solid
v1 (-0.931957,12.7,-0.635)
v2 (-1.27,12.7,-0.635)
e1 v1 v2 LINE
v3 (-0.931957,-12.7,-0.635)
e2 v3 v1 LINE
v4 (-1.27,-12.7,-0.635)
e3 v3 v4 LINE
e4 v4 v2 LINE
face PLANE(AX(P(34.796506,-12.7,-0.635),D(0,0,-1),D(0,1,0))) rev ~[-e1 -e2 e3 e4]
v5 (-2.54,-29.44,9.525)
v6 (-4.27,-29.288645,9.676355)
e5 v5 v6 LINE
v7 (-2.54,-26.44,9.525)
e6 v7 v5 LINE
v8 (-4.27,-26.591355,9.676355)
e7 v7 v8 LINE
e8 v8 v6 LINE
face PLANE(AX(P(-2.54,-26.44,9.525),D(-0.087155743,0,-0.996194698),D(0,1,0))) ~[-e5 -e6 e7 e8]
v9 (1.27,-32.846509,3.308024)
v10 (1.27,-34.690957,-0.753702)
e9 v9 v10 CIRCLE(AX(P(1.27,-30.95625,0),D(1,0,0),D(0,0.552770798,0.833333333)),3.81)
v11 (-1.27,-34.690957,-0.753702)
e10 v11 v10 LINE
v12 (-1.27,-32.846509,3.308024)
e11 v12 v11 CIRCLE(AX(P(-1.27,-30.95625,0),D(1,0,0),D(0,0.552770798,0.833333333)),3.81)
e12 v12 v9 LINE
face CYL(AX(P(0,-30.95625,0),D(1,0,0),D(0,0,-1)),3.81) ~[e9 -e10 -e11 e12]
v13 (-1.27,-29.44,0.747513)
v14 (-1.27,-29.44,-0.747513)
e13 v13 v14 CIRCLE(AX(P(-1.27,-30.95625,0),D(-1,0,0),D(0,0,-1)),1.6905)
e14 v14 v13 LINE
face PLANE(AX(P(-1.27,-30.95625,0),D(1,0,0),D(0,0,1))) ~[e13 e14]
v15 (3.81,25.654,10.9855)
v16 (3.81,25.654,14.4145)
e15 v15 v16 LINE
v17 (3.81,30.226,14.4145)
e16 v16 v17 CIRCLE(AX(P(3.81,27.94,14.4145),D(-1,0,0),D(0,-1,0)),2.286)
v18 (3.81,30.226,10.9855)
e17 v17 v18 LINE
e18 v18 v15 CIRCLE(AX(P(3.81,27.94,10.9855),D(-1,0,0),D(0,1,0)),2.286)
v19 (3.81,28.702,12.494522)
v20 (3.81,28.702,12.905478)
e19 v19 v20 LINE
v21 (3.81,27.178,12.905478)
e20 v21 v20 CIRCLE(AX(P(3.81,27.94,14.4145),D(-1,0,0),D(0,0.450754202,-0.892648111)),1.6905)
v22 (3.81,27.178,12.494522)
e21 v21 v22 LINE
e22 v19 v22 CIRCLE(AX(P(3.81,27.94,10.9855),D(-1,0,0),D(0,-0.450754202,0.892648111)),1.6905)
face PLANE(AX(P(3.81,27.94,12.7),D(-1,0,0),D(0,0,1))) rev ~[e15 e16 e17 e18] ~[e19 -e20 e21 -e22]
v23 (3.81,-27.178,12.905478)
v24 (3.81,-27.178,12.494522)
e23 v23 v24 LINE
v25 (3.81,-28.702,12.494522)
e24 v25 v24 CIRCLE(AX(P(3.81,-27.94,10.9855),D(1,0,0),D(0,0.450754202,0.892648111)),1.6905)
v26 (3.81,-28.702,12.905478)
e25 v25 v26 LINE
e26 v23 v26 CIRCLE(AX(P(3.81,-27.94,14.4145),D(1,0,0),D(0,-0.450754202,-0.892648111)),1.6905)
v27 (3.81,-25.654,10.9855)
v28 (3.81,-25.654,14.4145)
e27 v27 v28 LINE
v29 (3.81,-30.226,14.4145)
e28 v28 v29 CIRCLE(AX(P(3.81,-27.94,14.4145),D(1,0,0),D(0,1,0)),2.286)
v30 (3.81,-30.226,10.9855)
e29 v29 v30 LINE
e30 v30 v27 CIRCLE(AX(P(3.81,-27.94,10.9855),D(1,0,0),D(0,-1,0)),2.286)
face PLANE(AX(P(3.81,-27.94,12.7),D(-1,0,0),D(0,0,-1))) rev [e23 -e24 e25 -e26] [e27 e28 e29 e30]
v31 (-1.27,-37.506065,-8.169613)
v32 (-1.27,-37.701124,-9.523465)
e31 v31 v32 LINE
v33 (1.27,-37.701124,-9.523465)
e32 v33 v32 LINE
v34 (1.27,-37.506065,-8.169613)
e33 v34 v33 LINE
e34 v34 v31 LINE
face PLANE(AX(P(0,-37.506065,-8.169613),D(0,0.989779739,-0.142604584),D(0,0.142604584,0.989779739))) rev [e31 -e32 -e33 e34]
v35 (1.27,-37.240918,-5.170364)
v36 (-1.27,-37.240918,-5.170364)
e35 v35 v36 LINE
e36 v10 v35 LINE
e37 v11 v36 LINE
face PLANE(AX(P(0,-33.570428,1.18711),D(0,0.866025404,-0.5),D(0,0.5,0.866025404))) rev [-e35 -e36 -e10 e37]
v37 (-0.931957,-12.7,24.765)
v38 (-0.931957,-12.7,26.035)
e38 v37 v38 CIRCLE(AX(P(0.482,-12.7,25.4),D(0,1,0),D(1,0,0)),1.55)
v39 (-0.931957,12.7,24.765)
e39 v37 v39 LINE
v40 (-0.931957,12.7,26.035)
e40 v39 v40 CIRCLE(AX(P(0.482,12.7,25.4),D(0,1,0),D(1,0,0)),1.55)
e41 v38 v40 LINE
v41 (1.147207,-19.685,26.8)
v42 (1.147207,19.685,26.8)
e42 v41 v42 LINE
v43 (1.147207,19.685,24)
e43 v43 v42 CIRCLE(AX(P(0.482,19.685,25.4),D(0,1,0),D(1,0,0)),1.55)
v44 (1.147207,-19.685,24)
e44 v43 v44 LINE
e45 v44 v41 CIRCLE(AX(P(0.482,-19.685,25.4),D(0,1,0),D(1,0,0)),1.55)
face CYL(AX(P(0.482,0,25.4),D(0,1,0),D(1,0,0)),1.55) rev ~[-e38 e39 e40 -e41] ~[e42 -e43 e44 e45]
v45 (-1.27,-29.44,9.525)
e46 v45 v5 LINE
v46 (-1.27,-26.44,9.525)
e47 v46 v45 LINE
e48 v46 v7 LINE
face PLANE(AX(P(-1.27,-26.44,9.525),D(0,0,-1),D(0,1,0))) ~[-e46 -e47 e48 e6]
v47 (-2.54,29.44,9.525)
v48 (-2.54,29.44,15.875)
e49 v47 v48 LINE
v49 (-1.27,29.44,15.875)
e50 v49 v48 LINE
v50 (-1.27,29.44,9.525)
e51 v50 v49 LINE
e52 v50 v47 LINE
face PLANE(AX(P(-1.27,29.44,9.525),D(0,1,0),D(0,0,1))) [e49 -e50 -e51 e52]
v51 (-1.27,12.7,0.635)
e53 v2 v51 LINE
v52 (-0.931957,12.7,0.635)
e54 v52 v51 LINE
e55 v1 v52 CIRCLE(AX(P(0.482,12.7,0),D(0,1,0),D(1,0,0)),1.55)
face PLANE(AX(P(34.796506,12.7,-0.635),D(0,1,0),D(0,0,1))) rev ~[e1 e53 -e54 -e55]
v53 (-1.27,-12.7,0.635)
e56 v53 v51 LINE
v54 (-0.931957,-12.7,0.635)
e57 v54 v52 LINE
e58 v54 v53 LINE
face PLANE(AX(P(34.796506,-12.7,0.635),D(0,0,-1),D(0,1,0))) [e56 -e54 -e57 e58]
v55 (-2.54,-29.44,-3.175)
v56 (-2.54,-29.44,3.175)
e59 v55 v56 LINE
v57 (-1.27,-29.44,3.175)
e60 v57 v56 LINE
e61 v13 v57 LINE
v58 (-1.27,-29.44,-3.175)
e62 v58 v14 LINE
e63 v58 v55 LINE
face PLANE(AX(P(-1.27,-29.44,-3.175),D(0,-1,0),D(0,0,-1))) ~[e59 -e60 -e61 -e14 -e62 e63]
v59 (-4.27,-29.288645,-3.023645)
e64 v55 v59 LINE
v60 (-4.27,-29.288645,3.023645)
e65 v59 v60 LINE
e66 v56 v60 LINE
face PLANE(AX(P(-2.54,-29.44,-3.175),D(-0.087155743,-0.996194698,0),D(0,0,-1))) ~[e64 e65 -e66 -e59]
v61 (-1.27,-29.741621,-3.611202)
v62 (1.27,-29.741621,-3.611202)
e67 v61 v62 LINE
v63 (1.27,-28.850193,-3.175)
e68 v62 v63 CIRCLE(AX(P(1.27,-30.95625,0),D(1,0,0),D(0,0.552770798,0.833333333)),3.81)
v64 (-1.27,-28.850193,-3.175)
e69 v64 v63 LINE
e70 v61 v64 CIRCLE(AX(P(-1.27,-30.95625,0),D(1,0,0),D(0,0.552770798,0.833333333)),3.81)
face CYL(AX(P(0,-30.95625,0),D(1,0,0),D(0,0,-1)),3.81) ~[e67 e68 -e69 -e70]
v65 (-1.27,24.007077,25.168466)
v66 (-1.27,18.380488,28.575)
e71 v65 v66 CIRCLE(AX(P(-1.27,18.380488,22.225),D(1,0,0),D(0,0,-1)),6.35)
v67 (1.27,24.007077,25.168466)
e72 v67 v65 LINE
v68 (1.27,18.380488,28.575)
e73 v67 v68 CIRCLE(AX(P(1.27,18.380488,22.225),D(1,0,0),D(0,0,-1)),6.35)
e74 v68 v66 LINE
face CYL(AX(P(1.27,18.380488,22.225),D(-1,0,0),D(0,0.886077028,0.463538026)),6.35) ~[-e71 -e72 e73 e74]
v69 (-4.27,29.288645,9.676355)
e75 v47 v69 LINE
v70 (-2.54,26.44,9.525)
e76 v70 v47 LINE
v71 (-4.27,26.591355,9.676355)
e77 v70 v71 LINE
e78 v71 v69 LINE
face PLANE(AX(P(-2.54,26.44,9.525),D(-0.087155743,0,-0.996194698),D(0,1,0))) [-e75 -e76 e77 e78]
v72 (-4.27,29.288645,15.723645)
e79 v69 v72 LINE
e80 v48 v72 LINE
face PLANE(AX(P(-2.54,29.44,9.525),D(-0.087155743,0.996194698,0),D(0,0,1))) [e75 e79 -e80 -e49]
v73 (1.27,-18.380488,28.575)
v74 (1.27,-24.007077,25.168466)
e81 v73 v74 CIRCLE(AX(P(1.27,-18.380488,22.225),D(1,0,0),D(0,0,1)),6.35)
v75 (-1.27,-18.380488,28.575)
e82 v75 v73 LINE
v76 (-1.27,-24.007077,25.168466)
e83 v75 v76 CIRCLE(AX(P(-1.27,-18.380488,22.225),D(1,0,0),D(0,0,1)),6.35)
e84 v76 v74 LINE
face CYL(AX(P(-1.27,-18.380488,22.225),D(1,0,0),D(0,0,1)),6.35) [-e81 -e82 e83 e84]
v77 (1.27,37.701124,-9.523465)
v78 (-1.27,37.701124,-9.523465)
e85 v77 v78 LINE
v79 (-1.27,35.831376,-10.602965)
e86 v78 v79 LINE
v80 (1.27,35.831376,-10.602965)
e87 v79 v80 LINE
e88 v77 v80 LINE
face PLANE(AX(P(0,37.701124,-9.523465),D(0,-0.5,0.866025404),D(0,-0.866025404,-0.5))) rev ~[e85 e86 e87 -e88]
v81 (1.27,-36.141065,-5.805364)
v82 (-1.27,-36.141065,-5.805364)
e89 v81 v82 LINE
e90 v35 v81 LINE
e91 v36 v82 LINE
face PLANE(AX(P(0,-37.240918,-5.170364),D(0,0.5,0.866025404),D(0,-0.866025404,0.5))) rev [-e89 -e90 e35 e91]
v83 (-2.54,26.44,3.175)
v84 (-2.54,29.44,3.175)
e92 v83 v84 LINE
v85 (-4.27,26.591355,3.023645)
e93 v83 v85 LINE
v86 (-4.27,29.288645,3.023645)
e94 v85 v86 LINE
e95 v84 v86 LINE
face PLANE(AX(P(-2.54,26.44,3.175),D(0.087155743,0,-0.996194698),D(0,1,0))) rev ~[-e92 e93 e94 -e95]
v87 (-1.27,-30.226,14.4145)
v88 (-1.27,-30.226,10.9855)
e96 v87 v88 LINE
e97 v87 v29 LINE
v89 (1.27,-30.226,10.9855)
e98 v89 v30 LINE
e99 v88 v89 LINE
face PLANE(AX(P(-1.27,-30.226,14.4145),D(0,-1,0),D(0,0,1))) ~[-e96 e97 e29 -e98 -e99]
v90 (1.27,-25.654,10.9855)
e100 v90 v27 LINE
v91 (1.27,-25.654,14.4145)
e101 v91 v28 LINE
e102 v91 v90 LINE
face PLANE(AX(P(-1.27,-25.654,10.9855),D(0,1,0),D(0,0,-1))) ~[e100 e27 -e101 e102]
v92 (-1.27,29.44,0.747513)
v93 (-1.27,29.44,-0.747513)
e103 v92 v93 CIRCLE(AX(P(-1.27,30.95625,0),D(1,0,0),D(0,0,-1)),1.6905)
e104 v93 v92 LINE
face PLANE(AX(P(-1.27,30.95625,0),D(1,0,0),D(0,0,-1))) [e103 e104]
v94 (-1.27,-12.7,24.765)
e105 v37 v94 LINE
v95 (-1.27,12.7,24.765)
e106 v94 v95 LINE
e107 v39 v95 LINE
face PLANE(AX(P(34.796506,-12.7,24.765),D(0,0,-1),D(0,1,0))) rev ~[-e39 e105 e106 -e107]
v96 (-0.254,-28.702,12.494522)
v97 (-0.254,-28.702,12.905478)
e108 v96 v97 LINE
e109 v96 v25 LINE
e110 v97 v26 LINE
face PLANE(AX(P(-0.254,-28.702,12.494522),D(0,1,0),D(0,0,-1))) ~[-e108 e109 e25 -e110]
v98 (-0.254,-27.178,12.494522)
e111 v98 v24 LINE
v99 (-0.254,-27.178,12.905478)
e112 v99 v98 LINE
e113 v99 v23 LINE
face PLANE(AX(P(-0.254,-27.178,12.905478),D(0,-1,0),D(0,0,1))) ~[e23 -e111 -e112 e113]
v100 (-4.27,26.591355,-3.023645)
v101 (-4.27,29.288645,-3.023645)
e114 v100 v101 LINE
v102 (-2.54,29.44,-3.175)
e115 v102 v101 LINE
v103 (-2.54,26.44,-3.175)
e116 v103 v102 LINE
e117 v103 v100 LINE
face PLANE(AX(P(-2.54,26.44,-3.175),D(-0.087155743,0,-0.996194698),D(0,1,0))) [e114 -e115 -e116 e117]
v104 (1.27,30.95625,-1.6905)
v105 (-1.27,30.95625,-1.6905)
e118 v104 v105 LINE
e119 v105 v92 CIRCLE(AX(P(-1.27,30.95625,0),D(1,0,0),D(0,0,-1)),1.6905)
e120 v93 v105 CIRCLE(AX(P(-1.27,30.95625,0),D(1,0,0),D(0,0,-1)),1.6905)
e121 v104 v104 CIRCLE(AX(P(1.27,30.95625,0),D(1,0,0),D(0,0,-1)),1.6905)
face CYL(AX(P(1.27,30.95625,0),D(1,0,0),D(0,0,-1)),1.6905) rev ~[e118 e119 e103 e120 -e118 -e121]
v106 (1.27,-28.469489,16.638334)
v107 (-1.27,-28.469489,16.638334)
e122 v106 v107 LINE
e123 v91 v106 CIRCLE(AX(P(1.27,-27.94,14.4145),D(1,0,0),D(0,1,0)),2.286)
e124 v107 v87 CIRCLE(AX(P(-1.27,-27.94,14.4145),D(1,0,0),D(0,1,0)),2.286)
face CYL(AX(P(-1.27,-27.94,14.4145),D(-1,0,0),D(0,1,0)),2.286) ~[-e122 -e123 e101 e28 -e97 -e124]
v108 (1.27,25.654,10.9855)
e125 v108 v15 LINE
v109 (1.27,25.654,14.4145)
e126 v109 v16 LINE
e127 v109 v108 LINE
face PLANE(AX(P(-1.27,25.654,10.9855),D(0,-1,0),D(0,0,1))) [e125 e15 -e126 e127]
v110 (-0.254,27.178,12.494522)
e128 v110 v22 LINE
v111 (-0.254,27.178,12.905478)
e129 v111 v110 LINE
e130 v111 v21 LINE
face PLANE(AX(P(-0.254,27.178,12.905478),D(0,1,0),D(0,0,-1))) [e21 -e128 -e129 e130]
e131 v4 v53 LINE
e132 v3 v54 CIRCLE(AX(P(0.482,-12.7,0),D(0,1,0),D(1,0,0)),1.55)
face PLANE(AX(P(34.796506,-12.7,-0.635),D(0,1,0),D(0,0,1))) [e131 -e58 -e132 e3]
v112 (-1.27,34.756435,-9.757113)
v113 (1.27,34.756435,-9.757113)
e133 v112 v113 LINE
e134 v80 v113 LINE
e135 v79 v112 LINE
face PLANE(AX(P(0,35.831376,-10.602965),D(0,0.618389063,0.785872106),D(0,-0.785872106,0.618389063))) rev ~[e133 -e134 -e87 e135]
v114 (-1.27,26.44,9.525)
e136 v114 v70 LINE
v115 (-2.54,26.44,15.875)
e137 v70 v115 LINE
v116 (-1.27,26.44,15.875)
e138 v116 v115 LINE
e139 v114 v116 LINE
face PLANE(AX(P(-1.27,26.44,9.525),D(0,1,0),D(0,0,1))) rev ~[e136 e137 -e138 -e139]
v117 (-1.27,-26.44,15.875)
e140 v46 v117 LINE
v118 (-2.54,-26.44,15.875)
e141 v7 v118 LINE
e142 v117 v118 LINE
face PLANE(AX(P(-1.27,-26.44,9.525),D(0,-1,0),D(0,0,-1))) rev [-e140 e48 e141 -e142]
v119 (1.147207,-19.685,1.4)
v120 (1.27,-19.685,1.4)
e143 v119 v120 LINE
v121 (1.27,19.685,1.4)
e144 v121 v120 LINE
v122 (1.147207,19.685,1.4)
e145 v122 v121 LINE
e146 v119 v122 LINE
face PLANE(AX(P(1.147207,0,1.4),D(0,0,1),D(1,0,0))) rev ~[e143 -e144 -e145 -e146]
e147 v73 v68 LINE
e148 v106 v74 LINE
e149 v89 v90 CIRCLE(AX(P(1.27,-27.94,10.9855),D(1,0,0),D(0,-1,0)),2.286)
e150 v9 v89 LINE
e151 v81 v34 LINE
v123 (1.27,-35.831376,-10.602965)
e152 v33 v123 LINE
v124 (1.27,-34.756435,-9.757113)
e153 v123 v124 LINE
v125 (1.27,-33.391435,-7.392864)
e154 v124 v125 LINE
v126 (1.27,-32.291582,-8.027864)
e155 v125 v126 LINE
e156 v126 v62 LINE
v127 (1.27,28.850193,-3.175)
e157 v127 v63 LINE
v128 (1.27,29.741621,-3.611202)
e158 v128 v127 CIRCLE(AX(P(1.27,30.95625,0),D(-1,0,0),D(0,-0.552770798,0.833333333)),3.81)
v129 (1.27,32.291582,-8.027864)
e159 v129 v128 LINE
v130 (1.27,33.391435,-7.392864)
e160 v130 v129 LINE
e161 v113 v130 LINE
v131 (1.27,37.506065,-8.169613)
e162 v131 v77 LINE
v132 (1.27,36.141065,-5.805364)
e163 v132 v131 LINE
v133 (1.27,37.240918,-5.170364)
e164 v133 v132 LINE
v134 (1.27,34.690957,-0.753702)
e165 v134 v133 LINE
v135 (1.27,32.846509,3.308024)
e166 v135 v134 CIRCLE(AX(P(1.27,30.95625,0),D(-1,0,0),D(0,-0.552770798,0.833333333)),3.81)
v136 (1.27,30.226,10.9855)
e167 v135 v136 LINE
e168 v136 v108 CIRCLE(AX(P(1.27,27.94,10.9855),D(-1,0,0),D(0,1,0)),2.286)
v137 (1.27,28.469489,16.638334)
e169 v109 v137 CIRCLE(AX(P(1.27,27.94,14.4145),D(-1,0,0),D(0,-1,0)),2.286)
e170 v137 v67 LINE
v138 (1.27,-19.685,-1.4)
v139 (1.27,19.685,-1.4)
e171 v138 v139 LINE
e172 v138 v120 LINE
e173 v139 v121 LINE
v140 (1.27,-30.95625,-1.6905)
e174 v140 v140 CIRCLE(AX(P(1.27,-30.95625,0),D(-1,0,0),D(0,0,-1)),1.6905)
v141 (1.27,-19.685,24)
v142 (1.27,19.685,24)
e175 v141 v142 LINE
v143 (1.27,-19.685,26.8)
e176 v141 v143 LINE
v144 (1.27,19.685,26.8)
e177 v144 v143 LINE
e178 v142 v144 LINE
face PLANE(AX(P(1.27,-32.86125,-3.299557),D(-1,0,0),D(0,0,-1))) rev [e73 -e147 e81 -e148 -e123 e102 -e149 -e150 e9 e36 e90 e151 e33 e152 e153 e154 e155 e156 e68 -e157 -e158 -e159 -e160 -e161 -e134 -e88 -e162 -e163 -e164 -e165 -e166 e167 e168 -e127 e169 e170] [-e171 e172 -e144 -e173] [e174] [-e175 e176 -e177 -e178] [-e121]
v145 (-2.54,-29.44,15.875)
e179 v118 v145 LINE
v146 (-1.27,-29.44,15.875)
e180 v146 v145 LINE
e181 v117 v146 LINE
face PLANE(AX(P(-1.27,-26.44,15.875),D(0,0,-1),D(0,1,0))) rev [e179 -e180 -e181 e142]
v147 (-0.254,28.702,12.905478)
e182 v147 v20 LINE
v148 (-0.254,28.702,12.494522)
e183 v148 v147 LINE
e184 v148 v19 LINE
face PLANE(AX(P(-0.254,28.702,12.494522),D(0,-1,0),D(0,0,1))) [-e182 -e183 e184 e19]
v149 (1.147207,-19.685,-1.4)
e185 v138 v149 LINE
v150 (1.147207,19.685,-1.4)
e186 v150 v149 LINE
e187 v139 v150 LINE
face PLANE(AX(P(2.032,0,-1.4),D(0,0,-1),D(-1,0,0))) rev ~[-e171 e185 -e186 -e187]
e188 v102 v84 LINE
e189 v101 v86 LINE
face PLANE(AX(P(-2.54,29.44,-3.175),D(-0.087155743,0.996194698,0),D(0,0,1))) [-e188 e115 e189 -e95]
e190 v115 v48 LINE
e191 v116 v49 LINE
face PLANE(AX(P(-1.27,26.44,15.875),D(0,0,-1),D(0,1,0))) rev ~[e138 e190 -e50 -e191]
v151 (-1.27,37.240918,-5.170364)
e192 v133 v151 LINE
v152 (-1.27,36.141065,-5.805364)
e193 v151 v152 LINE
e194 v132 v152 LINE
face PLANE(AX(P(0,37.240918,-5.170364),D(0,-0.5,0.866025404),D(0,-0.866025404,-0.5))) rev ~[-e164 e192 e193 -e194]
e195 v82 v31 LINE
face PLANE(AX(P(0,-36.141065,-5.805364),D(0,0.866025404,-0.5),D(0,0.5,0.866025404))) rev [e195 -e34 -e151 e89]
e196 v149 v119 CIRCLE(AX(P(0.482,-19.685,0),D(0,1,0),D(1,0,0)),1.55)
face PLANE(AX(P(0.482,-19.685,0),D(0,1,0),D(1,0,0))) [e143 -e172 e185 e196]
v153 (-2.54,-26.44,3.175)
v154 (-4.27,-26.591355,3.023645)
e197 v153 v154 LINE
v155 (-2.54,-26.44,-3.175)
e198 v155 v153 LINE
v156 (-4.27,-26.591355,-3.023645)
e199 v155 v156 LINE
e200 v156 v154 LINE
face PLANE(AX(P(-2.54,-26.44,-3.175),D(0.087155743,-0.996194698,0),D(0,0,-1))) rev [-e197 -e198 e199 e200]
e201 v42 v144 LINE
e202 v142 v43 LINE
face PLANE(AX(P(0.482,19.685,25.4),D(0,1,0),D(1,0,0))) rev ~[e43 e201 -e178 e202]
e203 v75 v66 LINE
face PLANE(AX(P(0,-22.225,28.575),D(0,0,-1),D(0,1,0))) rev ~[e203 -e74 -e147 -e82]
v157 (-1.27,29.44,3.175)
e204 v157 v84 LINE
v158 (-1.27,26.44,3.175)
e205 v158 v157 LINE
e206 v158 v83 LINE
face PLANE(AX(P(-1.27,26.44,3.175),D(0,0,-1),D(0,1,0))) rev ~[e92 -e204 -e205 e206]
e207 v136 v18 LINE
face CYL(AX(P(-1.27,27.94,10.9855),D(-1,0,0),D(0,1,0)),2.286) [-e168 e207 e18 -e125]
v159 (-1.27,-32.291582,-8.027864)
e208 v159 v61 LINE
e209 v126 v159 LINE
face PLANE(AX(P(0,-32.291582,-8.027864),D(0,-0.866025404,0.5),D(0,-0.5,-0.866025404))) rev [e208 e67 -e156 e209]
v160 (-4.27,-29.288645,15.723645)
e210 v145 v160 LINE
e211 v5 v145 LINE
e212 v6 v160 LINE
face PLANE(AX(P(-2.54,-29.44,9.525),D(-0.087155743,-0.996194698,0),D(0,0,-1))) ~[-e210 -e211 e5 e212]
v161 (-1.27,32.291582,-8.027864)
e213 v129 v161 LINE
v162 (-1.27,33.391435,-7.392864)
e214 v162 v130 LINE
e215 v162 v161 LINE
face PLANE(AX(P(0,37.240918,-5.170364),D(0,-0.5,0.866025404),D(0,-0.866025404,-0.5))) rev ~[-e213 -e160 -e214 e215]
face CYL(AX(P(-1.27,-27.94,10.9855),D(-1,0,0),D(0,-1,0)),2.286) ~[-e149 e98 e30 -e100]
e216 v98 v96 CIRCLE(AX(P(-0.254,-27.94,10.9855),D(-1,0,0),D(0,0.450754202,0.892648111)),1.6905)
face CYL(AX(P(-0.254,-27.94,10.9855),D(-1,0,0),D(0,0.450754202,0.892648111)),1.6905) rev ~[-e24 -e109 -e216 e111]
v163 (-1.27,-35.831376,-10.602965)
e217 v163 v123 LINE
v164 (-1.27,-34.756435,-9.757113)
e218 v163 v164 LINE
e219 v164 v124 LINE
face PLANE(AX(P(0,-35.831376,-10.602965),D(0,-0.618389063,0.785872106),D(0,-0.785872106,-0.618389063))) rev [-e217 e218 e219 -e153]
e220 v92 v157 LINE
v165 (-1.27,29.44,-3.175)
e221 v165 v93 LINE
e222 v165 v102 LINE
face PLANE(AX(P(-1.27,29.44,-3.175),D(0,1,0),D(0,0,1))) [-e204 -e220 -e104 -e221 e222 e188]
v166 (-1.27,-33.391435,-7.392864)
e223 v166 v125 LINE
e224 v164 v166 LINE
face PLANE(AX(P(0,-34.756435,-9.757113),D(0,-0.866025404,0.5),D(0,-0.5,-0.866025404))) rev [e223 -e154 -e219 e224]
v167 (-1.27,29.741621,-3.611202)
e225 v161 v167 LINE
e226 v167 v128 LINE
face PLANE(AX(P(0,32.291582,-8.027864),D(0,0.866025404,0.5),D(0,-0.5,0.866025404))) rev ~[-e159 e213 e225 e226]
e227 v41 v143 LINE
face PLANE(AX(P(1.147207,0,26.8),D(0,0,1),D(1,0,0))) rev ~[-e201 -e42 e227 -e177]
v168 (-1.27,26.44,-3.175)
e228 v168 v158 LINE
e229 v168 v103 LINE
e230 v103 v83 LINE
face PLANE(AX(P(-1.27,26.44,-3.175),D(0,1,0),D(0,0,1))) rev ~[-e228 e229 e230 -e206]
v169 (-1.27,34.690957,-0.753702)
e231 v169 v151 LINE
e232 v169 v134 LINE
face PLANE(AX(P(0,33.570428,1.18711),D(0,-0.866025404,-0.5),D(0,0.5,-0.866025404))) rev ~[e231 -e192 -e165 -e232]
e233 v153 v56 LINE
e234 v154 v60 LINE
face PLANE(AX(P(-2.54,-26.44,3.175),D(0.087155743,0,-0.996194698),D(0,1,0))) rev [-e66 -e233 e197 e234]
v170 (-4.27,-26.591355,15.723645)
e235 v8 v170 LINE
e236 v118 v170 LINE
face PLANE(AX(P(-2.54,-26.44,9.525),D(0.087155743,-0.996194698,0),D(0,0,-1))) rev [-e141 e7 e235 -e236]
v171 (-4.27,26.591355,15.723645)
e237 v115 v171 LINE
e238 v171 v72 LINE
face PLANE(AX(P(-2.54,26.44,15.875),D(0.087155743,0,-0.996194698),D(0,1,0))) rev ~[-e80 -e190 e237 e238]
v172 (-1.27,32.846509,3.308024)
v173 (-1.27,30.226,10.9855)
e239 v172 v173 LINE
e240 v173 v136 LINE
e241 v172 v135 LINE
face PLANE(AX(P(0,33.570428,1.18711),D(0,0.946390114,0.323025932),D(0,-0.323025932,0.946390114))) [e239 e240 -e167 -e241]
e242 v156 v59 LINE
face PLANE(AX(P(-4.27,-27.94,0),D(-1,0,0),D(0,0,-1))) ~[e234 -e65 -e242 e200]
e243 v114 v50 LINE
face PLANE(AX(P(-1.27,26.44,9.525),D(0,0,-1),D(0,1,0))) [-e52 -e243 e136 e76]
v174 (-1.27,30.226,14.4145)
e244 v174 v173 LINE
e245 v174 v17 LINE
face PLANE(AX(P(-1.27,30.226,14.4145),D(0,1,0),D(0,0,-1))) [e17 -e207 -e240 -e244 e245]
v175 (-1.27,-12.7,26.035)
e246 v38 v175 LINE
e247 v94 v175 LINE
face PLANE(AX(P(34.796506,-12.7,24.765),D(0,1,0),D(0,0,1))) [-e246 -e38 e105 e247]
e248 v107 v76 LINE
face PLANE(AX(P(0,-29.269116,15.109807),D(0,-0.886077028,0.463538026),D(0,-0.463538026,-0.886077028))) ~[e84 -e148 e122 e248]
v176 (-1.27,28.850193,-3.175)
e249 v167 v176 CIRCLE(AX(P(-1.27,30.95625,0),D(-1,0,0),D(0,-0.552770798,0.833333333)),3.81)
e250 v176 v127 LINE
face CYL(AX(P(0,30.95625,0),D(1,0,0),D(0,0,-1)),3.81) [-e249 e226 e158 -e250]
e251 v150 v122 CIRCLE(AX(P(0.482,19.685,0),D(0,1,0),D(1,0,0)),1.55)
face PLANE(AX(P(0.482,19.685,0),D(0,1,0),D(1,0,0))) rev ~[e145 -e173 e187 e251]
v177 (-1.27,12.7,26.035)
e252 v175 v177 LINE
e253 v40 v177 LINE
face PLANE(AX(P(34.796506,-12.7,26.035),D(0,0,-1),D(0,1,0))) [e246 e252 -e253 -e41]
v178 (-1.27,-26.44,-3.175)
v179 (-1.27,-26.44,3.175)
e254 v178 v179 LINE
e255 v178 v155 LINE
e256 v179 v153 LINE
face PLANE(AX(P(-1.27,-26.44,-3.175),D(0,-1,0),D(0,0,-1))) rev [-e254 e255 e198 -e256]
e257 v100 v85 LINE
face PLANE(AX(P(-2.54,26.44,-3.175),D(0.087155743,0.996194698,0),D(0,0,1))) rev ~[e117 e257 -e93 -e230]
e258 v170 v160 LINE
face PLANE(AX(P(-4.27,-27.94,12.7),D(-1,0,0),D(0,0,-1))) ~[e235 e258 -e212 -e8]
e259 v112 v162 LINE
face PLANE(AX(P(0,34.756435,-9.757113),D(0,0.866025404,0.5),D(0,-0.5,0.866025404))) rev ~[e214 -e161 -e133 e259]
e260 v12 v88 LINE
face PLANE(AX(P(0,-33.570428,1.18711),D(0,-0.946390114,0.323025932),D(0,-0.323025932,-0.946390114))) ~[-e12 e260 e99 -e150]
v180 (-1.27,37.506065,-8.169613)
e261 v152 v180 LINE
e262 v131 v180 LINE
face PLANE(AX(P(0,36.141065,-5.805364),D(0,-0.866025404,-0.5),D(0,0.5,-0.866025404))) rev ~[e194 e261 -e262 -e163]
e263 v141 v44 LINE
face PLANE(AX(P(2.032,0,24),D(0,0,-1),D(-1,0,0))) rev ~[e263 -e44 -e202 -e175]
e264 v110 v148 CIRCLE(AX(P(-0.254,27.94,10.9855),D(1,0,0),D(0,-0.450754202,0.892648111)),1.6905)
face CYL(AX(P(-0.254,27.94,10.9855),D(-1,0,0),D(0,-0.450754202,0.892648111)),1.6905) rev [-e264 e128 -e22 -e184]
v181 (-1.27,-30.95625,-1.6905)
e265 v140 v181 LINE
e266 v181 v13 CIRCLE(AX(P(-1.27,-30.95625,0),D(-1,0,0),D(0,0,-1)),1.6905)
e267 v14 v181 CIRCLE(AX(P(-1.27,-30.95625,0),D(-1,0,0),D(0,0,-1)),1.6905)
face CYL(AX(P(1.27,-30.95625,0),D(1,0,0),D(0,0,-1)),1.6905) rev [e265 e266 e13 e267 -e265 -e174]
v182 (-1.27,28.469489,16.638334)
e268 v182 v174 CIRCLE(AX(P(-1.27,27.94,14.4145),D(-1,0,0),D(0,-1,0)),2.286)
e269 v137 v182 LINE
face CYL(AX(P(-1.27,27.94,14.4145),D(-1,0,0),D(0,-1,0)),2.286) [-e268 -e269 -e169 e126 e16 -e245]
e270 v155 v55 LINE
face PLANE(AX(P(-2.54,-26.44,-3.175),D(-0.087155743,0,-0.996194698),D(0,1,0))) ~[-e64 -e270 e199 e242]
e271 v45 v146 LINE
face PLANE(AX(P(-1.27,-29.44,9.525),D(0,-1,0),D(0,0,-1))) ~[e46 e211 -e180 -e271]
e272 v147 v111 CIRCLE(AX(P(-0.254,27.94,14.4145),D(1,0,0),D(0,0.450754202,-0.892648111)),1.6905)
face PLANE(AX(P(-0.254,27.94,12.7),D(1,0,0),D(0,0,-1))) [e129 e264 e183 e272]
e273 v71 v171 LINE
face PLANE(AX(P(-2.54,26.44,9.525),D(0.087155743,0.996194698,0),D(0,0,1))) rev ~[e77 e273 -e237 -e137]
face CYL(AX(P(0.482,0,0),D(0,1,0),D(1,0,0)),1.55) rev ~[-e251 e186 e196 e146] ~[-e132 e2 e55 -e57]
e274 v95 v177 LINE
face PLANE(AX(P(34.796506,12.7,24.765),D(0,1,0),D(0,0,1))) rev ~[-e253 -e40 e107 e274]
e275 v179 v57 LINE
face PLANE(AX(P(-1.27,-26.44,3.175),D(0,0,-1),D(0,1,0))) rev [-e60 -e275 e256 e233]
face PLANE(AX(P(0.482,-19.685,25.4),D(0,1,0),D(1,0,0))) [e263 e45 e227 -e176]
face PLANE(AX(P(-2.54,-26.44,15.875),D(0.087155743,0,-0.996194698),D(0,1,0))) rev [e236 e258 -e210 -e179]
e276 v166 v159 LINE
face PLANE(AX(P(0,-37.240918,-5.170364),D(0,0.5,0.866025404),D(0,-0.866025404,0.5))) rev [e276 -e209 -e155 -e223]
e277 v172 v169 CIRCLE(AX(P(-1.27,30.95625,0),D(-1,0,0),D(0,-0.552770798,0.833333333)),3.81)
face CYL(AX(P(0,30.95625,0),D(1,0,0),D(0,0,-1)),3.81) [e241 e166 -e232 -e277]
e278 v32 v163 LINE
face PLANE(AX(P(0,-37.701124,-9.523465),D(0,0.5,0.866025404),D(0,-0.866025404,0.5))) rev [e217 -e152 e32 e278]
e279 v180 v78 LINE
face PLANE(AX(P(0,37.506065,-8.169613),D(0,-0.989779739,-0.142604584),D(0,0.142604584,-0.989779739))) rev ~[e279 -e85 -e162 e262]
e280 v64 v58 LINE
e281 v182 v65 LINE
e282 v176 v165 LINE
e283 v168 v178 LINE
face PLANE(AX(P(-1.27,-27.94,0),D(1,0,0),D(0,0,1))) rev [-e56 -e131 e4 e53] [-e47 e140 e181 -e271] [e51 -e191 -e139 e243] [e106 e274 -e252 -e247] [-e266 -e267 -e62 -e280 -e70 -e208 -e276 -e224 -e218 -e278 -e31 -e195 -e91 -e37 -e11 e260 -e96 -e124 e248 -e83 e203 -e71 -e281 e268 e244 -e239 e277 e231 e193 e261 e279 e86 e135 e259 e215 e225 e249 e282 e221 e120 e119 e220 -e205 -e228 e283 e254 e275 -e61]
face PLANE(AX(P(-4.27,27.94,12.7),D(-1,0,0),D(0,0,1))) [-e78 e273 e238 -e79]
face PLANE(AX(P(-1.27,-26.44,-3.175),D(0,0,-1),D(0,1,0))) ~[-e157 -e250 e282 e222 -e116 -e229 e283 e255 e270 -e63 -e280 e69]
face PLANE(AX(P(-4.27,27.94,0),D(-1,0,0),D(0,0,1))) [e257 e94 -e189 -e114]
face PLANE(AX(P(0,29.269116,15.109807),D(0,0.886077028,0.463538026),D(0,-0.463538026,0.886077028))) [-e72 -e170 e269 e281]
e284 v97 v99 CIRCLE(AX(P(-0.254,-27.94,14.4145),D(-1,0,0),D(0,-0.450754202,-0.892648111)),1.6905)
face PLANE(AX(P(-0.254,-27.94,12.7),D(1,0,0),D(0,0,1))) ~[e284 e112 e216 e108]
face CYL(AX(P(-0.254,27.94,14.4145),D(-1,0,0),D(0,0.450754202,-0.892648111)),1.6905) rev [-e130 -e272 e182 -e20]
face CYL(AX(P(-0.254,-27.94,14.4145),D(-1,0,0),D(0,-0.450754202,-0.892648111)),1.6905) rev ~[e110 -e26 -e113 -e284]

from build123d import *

# Parameters (mm, degrees)
SKETCH3_R                   = 3.81
DOWELSUPPORT_DEPTH          = 1.27
SKETCH5_W                   = 6.35
SKETCH5_H                   = 44.45
SLIDERDOWELSUPPORT_DEPTH    = 1.27
SKETCH17_R                  = 1.549999948
CUT_EXTRUDE1_DEPTH          = 19.685
CUT_EXTRUDE2_DEPTH          = 36.066505943
CUT_EXTRUDE2_DEPTH_BACK     = 36.066505943
SKETCH18_W                  = 1.27
SKETCH18_H                  = 25.4
LPATTERN1_COUNT             = 2
LPATTERN1_PITCH             = 25.4
LATERALSUPPORT_DEPTH        = 1.27
SKETCH8_W                   = 6.35
SKETCH8_H                   = 3
TABSUPPORT_DEPTH            = 1.27
STRINGDOWELSUPPORT_START    = -1.27
STRINGDOWELSUPPORT_DEPTH    = 5.08
INTERSUPPORT_DEPTH          = 1.27
SKETCH10_W                  = 6.35
SKETCH10_H                  = 3
TABBASE_DEPTH               = 1.27
SKETCH12_W                  = 6.35
SKETCH12_H                  = 3
TABDRAFT_DEPTH              = 1.73
TABDRAFT_DRAFT              = 5
TABDRAFT_PROFILE_2_DEPTH    = 1.73
TABDRAFT_PROFILE_2_DRAFT    = 5
STRINGDOWELHOLES_DEPTH      = 48.629791179
STRINGDOWELHOLES_DEPTH_BACK = 1.524
SKETCH14_R                  = 1.690500048
PULLEYDOWELHOLE_DEPTH       = 2.54
FILLET1_R                   = 6.35


with BuildPart() as part:
    # Sketch3 → DowelSupport (new, symmetric)
    with BuildSketch(Plane(origin=(0, 0, 0), x_dir=(0, 0, -1), z_dir=(1, 0, 0))):
        with Locations((0, 30.95625)):
            Circle(SKETCH3_R)
    extrude(amount=DOWELSUPPORT_DEPTH, both=True)

    # Sketch8 → TabSupport (add, symmetric)
    with BuildSketch(Plane(origin=(0, 0, 0), x_dir=(0, 0, -1), z_dir=(1, 0, 0))):
        with Locations((0, 27.94)):
            Rectangle(SKETCH8_W, SKETCH8_H)
        with Locations((-12.7, 27.94)):
            Rectangle(SKETCH8_W, SKETCH8_H)
    extrude(amount=TABSUPPORT_DEPTH, both=True)


with BuildPart() as body_2:
    # Sketch5 → SliderDowelSupport (new, symmetric)
    with BuildSketch(Plane(origin=(0, 0, 0), x_dir=(0, 0, -1), z_dir=(1, 0, 0))):
        Rectangle(SKETCH5_W, SKETCH5_H)
    extrude(amount=SLIDERDOWELSUPPORT_DEPTH, both=True)

    # Sketch17 → Cut-Extrude1 (cut, symmetric)
    with BuildSketch(Plane(origin=(0, 0, 0), x_dir=(1, 0, 0), z_dir=(0, 1, 0))):
        with Locations((0.482000052, 0)):
            Circle(SKETCH17_R)
        with BuildLine():
            Line((2.032, 0), (2.032, 1.399999994))
            Line((2.032, 1.399999994), (1.147206678, 1.399999994))
            ThreePointArc((1.147206678, 1.399999994), (1.792261491, 0.828078983), (2.032, 0))
        make_face()
        with BuildLine():
            Line((2.032, -1.399999994), (2.032, 0))
            ThreePointArc((2.032, 0), (1.792261491, -0.828078983), (1.147206678, -1.399999994))
            Line((1.147206678, -1.399999994), (2.032, -1.399999994))
        make_face()
    extrude(amount=CUT_EXTRUDE1_DEPTH, both=True, mode=Mode.SUBTRACT)

    # Sketch18 → Cut-Extrude2 (cut, two sides: drawn at the far end of the back side and taken through both)
    with BuildSketch(Plane.ZY.offset(1.27).offset(-CUT_EXTRUDE2_DEPTH_BACK)):
        Rectangle(SKETCH18_W, SKETCH18_H)
    extrude(amount=CUT_EXTRUDE2_DEPTH + CUT_EXTRUDE2_DEPTH_BACK, mode=Mode.SUBTRACT)


with BuildPart() as lpattern1_1:
    # LPattern1: pattern copy
    add(body_2.part.moved(Location(Vector(0, 0, 1) * (1 * LPATTERN1_PITCH))))


with BuildPart() as body_4:
    # Sketch6 → LateralSupport (new, symmetric)
    with BuildSketch(Plane(origin=(0, 0, 0), x_dir=(0, 0, -1), z_dir=(1, 0, 0))):
        Polygon((7.392863577, 33.391434671), (5.805363577, 36.141065329), (8.169612929, 37.506065329), (9.523465192, 37.701124423), (10.602965192, 35.831375577), (9.757112929, 34.756434671), align=None)
    extrude(amount=LATERALSUPPORT_DEPTH, both=True)


with BuildPart() as tabsupport_piece_1:
    # of the separate pieces the step leaves, piece 1, a body of its own (tabsupport_pieces)
    add(part.part.solids().sort_by_distance((1.27, 28.850193258, 3.175))[0])


with BuildPart() as tabsupport_piece_2:
    # of the separate pieces the step leaves, piece 2, a body of its own (tabsupport_pieces)
    add(part.part.solids().sort_by_distance((-1.27, 26.44, 9.525))[0])

    # Sketch15 → StringDowelSupport (add)
    with BuildSketch(Plane(origin=(0, 0, 0), x_dir=(0, 0, -1), z_dir=(1, 0, 0)).offset(STRINGDOWELSUPPORT_START)):
        with BuildLine():
            Line((-14.4145, 30.226), (-10.9855, 30.226))
            ThreePointArc((-10.9855, 30.226), (-8.6995, 27.94), (-10.9855, 25.654))
            Line((-10.9855, 25.654), (-14.4145, 25.654))
            ThreePointArc((-14.4145, 25.654), (-16.7005, 27.94), (-14.4145, 30.226))
        make_face()
    extrude(amount=STRINGDOWELSUPPORT_DEPTH)


with BuildPart() as body_2_1:
    add(body_2.part)

    add(lpattern1_1.part)  # InterSupport merges LPattern1_1

    add(body_4.part)  # InterSupport merges body 4

    add(tabsupport_piece_1.part)  # InterSupport merges TabSupport piece 1

    add(tabsupport_piece_2.part)  # InterSupport merges TabSupport piece 2
    # Sketch7 → InterSupport (add, symmetric)
    with BuildSketch(Plane(origin=(0, 0, 0), x_dir=(0, 0, -1), z_dir=(1, 0, 0))):
        Polygon((5.170363577, 37.240917591), (8.027863577, 32.291582409), (1.42875, 28.481582409), (-1.42875, 33.430917591), align=None)
        Polygon((-3.175, 15.875), (-3.175, 22.225), (3.175, 22.225), (3.175, 26.44), (0.923046602, 28.251940251), (-0.923046602, 33.660559749), (-10.9855, 30.226), (-14.4145, 30.226), (-15.109807039, 29.269115541), (-28.575, 22.225), (-22.225, 22.225), (-22.225, 0), (-3.175, 0), align=None)
    extrude(amount=INTERSUPPORT_DEPTH, both=True)

    # Sketch10 → TabBase (add)
    with BuildSketch(Plane.ZY.offset(1.27)):
        with Locations((0, 27.94)):
            Rectangle(SKETCH10_W, SKETCH10_H)
        with Locations((12.7, 27.94)):
            Rectangle(SKETCH10_W, SKETCH10_H)
    extrude(amount=TABBASE_DEPTH)


with BuildPart() as tabdraft_tool:
    # Sketch12 → TabDraft (with draft: the straight prism first)
    with BuildSketch(Plane.ZY.offset(2.54)):
        with Locations((0, 27.94)):
            Rectangle(SKETCH12_W, SKETCH12_H)
    extrude(amount=TABDRAFT_DEPTH)
    # TabDraft: the draft: its side faces are tilted about the plane it starts from
    tabdraft_sides = [tabdraft_tool.faces().sort_by_distance(p)[0] for p in [
        (-3.405, 27.94, 3.175),
        (-3.405, 29.44, 0),
        (-3.405, 27.94, -3.175),
        (-3.405, 26.44, 0),
    ]]
    draft(tabdraft_sides, Plane.ZY.offset(2.54), TABDRAFT_DRAFT)


with BuildPart() as body_2_2:
    add(body_2_1.part)

    # TabDraft: add tabdraft_tool
    add(tabdraft_tool.part)


with BuildPart() as tabdraft_profile_2_tool:
    # Sketch12 → TabDraft profile 2 (with draft: the straight prism first)
    with BuildSketch(Plane.ZY.offset(2.54)):
        with Locations((12.7, 27.94)):
            Rectangle(SKETCH12_W, SKETCH12_H)
    extrude(amount=TABDRAFT_PROFILE_2_DEPTH)
    # TabDraft profile 2: the draft: its side faces are tilted about the plane it starts from
    tabdraft_profile_2_sides = [tabdraft_profile_2_tool.faces().sort_by_distance(p)[0] for p in [
        (-3.405, 27.94, 9.525),
        (-3.405, 26.44, 12.7),
        (-3.405, 27.94, 15.875),
        (-3.405, 29.44, 12.7),
    ]]
    draft(tabdraft_profile_2_sides, Plane.ZY.offset(2.54), TABDRAFT_PROFILE_2_DRAFT)


with BuildPart() as body_2_3:
    add(body_2_2.part)

    # TabDraft profile 2: add tabdraft_profile_2_tool
    add(tabdraft_profile_2_tool.part)

    # Sketch16 → StringDowelHoles (cut, two sides: drawn at the far end of the back side and taken through both)
    with BuildSketch(Plane(origin=(1.27, 0, 0), x_dir=(0, 0, -1), z_dir=(1, 0, 0)).offset(-STRINGDOWELHOLES_DEPTH_BACK)):
        with BuildLine():
            Line((-12.905478326, 27.178), (-12.494521674, 27.178))
            ThreePointArc((-12.494521674, 27.178), (-9.294999952, 27.94), (-12.494521674, 28.702))
            Line((-12.494521674, 28.702), (-12.905478326, 28.702))
            ThreePointArc((-12.905478326, 28.702), (-16.105000048, 27.94), (-12.905478326, 27.178))
        make_face()
    extrude(amount=STRINGDOWELHOLES_DEPTH + STRINGDOWELHOLES_DEPTH_BACK, mode=Mode.SUBTRACT)

    # Sketch14 → PulleyDowelHole (cut)
    with BuildSketch(Plane(origin=(1.27, 0, 0), x_dir=(0, 0, -1), z_dir=(1, 0, 0))):
        with Locations((0, 30.95625)):
            Circle(SKETCH14_R)
    extrude(amount=-PULLEYDOWELHOLE_DEPTH, mode=Mode.SUBTRACT)

    # Mirror1: body 2 across plane


with BuildPart() as body_2_4:
    add(body_2_3.part)
    add(body_2_3.part.mirror(Plane.ZX))

    # Fillet1
    fillet1_edges = [body_2_4.edges().sort_by_distance(p)[0] for p in [
        (0, -22.225, 28.575),
        (0, 22.225, 28.575),
    ]]
    fillet(fillet1_edges, radius=FILLET1_R)


solid = body_2_4.part
